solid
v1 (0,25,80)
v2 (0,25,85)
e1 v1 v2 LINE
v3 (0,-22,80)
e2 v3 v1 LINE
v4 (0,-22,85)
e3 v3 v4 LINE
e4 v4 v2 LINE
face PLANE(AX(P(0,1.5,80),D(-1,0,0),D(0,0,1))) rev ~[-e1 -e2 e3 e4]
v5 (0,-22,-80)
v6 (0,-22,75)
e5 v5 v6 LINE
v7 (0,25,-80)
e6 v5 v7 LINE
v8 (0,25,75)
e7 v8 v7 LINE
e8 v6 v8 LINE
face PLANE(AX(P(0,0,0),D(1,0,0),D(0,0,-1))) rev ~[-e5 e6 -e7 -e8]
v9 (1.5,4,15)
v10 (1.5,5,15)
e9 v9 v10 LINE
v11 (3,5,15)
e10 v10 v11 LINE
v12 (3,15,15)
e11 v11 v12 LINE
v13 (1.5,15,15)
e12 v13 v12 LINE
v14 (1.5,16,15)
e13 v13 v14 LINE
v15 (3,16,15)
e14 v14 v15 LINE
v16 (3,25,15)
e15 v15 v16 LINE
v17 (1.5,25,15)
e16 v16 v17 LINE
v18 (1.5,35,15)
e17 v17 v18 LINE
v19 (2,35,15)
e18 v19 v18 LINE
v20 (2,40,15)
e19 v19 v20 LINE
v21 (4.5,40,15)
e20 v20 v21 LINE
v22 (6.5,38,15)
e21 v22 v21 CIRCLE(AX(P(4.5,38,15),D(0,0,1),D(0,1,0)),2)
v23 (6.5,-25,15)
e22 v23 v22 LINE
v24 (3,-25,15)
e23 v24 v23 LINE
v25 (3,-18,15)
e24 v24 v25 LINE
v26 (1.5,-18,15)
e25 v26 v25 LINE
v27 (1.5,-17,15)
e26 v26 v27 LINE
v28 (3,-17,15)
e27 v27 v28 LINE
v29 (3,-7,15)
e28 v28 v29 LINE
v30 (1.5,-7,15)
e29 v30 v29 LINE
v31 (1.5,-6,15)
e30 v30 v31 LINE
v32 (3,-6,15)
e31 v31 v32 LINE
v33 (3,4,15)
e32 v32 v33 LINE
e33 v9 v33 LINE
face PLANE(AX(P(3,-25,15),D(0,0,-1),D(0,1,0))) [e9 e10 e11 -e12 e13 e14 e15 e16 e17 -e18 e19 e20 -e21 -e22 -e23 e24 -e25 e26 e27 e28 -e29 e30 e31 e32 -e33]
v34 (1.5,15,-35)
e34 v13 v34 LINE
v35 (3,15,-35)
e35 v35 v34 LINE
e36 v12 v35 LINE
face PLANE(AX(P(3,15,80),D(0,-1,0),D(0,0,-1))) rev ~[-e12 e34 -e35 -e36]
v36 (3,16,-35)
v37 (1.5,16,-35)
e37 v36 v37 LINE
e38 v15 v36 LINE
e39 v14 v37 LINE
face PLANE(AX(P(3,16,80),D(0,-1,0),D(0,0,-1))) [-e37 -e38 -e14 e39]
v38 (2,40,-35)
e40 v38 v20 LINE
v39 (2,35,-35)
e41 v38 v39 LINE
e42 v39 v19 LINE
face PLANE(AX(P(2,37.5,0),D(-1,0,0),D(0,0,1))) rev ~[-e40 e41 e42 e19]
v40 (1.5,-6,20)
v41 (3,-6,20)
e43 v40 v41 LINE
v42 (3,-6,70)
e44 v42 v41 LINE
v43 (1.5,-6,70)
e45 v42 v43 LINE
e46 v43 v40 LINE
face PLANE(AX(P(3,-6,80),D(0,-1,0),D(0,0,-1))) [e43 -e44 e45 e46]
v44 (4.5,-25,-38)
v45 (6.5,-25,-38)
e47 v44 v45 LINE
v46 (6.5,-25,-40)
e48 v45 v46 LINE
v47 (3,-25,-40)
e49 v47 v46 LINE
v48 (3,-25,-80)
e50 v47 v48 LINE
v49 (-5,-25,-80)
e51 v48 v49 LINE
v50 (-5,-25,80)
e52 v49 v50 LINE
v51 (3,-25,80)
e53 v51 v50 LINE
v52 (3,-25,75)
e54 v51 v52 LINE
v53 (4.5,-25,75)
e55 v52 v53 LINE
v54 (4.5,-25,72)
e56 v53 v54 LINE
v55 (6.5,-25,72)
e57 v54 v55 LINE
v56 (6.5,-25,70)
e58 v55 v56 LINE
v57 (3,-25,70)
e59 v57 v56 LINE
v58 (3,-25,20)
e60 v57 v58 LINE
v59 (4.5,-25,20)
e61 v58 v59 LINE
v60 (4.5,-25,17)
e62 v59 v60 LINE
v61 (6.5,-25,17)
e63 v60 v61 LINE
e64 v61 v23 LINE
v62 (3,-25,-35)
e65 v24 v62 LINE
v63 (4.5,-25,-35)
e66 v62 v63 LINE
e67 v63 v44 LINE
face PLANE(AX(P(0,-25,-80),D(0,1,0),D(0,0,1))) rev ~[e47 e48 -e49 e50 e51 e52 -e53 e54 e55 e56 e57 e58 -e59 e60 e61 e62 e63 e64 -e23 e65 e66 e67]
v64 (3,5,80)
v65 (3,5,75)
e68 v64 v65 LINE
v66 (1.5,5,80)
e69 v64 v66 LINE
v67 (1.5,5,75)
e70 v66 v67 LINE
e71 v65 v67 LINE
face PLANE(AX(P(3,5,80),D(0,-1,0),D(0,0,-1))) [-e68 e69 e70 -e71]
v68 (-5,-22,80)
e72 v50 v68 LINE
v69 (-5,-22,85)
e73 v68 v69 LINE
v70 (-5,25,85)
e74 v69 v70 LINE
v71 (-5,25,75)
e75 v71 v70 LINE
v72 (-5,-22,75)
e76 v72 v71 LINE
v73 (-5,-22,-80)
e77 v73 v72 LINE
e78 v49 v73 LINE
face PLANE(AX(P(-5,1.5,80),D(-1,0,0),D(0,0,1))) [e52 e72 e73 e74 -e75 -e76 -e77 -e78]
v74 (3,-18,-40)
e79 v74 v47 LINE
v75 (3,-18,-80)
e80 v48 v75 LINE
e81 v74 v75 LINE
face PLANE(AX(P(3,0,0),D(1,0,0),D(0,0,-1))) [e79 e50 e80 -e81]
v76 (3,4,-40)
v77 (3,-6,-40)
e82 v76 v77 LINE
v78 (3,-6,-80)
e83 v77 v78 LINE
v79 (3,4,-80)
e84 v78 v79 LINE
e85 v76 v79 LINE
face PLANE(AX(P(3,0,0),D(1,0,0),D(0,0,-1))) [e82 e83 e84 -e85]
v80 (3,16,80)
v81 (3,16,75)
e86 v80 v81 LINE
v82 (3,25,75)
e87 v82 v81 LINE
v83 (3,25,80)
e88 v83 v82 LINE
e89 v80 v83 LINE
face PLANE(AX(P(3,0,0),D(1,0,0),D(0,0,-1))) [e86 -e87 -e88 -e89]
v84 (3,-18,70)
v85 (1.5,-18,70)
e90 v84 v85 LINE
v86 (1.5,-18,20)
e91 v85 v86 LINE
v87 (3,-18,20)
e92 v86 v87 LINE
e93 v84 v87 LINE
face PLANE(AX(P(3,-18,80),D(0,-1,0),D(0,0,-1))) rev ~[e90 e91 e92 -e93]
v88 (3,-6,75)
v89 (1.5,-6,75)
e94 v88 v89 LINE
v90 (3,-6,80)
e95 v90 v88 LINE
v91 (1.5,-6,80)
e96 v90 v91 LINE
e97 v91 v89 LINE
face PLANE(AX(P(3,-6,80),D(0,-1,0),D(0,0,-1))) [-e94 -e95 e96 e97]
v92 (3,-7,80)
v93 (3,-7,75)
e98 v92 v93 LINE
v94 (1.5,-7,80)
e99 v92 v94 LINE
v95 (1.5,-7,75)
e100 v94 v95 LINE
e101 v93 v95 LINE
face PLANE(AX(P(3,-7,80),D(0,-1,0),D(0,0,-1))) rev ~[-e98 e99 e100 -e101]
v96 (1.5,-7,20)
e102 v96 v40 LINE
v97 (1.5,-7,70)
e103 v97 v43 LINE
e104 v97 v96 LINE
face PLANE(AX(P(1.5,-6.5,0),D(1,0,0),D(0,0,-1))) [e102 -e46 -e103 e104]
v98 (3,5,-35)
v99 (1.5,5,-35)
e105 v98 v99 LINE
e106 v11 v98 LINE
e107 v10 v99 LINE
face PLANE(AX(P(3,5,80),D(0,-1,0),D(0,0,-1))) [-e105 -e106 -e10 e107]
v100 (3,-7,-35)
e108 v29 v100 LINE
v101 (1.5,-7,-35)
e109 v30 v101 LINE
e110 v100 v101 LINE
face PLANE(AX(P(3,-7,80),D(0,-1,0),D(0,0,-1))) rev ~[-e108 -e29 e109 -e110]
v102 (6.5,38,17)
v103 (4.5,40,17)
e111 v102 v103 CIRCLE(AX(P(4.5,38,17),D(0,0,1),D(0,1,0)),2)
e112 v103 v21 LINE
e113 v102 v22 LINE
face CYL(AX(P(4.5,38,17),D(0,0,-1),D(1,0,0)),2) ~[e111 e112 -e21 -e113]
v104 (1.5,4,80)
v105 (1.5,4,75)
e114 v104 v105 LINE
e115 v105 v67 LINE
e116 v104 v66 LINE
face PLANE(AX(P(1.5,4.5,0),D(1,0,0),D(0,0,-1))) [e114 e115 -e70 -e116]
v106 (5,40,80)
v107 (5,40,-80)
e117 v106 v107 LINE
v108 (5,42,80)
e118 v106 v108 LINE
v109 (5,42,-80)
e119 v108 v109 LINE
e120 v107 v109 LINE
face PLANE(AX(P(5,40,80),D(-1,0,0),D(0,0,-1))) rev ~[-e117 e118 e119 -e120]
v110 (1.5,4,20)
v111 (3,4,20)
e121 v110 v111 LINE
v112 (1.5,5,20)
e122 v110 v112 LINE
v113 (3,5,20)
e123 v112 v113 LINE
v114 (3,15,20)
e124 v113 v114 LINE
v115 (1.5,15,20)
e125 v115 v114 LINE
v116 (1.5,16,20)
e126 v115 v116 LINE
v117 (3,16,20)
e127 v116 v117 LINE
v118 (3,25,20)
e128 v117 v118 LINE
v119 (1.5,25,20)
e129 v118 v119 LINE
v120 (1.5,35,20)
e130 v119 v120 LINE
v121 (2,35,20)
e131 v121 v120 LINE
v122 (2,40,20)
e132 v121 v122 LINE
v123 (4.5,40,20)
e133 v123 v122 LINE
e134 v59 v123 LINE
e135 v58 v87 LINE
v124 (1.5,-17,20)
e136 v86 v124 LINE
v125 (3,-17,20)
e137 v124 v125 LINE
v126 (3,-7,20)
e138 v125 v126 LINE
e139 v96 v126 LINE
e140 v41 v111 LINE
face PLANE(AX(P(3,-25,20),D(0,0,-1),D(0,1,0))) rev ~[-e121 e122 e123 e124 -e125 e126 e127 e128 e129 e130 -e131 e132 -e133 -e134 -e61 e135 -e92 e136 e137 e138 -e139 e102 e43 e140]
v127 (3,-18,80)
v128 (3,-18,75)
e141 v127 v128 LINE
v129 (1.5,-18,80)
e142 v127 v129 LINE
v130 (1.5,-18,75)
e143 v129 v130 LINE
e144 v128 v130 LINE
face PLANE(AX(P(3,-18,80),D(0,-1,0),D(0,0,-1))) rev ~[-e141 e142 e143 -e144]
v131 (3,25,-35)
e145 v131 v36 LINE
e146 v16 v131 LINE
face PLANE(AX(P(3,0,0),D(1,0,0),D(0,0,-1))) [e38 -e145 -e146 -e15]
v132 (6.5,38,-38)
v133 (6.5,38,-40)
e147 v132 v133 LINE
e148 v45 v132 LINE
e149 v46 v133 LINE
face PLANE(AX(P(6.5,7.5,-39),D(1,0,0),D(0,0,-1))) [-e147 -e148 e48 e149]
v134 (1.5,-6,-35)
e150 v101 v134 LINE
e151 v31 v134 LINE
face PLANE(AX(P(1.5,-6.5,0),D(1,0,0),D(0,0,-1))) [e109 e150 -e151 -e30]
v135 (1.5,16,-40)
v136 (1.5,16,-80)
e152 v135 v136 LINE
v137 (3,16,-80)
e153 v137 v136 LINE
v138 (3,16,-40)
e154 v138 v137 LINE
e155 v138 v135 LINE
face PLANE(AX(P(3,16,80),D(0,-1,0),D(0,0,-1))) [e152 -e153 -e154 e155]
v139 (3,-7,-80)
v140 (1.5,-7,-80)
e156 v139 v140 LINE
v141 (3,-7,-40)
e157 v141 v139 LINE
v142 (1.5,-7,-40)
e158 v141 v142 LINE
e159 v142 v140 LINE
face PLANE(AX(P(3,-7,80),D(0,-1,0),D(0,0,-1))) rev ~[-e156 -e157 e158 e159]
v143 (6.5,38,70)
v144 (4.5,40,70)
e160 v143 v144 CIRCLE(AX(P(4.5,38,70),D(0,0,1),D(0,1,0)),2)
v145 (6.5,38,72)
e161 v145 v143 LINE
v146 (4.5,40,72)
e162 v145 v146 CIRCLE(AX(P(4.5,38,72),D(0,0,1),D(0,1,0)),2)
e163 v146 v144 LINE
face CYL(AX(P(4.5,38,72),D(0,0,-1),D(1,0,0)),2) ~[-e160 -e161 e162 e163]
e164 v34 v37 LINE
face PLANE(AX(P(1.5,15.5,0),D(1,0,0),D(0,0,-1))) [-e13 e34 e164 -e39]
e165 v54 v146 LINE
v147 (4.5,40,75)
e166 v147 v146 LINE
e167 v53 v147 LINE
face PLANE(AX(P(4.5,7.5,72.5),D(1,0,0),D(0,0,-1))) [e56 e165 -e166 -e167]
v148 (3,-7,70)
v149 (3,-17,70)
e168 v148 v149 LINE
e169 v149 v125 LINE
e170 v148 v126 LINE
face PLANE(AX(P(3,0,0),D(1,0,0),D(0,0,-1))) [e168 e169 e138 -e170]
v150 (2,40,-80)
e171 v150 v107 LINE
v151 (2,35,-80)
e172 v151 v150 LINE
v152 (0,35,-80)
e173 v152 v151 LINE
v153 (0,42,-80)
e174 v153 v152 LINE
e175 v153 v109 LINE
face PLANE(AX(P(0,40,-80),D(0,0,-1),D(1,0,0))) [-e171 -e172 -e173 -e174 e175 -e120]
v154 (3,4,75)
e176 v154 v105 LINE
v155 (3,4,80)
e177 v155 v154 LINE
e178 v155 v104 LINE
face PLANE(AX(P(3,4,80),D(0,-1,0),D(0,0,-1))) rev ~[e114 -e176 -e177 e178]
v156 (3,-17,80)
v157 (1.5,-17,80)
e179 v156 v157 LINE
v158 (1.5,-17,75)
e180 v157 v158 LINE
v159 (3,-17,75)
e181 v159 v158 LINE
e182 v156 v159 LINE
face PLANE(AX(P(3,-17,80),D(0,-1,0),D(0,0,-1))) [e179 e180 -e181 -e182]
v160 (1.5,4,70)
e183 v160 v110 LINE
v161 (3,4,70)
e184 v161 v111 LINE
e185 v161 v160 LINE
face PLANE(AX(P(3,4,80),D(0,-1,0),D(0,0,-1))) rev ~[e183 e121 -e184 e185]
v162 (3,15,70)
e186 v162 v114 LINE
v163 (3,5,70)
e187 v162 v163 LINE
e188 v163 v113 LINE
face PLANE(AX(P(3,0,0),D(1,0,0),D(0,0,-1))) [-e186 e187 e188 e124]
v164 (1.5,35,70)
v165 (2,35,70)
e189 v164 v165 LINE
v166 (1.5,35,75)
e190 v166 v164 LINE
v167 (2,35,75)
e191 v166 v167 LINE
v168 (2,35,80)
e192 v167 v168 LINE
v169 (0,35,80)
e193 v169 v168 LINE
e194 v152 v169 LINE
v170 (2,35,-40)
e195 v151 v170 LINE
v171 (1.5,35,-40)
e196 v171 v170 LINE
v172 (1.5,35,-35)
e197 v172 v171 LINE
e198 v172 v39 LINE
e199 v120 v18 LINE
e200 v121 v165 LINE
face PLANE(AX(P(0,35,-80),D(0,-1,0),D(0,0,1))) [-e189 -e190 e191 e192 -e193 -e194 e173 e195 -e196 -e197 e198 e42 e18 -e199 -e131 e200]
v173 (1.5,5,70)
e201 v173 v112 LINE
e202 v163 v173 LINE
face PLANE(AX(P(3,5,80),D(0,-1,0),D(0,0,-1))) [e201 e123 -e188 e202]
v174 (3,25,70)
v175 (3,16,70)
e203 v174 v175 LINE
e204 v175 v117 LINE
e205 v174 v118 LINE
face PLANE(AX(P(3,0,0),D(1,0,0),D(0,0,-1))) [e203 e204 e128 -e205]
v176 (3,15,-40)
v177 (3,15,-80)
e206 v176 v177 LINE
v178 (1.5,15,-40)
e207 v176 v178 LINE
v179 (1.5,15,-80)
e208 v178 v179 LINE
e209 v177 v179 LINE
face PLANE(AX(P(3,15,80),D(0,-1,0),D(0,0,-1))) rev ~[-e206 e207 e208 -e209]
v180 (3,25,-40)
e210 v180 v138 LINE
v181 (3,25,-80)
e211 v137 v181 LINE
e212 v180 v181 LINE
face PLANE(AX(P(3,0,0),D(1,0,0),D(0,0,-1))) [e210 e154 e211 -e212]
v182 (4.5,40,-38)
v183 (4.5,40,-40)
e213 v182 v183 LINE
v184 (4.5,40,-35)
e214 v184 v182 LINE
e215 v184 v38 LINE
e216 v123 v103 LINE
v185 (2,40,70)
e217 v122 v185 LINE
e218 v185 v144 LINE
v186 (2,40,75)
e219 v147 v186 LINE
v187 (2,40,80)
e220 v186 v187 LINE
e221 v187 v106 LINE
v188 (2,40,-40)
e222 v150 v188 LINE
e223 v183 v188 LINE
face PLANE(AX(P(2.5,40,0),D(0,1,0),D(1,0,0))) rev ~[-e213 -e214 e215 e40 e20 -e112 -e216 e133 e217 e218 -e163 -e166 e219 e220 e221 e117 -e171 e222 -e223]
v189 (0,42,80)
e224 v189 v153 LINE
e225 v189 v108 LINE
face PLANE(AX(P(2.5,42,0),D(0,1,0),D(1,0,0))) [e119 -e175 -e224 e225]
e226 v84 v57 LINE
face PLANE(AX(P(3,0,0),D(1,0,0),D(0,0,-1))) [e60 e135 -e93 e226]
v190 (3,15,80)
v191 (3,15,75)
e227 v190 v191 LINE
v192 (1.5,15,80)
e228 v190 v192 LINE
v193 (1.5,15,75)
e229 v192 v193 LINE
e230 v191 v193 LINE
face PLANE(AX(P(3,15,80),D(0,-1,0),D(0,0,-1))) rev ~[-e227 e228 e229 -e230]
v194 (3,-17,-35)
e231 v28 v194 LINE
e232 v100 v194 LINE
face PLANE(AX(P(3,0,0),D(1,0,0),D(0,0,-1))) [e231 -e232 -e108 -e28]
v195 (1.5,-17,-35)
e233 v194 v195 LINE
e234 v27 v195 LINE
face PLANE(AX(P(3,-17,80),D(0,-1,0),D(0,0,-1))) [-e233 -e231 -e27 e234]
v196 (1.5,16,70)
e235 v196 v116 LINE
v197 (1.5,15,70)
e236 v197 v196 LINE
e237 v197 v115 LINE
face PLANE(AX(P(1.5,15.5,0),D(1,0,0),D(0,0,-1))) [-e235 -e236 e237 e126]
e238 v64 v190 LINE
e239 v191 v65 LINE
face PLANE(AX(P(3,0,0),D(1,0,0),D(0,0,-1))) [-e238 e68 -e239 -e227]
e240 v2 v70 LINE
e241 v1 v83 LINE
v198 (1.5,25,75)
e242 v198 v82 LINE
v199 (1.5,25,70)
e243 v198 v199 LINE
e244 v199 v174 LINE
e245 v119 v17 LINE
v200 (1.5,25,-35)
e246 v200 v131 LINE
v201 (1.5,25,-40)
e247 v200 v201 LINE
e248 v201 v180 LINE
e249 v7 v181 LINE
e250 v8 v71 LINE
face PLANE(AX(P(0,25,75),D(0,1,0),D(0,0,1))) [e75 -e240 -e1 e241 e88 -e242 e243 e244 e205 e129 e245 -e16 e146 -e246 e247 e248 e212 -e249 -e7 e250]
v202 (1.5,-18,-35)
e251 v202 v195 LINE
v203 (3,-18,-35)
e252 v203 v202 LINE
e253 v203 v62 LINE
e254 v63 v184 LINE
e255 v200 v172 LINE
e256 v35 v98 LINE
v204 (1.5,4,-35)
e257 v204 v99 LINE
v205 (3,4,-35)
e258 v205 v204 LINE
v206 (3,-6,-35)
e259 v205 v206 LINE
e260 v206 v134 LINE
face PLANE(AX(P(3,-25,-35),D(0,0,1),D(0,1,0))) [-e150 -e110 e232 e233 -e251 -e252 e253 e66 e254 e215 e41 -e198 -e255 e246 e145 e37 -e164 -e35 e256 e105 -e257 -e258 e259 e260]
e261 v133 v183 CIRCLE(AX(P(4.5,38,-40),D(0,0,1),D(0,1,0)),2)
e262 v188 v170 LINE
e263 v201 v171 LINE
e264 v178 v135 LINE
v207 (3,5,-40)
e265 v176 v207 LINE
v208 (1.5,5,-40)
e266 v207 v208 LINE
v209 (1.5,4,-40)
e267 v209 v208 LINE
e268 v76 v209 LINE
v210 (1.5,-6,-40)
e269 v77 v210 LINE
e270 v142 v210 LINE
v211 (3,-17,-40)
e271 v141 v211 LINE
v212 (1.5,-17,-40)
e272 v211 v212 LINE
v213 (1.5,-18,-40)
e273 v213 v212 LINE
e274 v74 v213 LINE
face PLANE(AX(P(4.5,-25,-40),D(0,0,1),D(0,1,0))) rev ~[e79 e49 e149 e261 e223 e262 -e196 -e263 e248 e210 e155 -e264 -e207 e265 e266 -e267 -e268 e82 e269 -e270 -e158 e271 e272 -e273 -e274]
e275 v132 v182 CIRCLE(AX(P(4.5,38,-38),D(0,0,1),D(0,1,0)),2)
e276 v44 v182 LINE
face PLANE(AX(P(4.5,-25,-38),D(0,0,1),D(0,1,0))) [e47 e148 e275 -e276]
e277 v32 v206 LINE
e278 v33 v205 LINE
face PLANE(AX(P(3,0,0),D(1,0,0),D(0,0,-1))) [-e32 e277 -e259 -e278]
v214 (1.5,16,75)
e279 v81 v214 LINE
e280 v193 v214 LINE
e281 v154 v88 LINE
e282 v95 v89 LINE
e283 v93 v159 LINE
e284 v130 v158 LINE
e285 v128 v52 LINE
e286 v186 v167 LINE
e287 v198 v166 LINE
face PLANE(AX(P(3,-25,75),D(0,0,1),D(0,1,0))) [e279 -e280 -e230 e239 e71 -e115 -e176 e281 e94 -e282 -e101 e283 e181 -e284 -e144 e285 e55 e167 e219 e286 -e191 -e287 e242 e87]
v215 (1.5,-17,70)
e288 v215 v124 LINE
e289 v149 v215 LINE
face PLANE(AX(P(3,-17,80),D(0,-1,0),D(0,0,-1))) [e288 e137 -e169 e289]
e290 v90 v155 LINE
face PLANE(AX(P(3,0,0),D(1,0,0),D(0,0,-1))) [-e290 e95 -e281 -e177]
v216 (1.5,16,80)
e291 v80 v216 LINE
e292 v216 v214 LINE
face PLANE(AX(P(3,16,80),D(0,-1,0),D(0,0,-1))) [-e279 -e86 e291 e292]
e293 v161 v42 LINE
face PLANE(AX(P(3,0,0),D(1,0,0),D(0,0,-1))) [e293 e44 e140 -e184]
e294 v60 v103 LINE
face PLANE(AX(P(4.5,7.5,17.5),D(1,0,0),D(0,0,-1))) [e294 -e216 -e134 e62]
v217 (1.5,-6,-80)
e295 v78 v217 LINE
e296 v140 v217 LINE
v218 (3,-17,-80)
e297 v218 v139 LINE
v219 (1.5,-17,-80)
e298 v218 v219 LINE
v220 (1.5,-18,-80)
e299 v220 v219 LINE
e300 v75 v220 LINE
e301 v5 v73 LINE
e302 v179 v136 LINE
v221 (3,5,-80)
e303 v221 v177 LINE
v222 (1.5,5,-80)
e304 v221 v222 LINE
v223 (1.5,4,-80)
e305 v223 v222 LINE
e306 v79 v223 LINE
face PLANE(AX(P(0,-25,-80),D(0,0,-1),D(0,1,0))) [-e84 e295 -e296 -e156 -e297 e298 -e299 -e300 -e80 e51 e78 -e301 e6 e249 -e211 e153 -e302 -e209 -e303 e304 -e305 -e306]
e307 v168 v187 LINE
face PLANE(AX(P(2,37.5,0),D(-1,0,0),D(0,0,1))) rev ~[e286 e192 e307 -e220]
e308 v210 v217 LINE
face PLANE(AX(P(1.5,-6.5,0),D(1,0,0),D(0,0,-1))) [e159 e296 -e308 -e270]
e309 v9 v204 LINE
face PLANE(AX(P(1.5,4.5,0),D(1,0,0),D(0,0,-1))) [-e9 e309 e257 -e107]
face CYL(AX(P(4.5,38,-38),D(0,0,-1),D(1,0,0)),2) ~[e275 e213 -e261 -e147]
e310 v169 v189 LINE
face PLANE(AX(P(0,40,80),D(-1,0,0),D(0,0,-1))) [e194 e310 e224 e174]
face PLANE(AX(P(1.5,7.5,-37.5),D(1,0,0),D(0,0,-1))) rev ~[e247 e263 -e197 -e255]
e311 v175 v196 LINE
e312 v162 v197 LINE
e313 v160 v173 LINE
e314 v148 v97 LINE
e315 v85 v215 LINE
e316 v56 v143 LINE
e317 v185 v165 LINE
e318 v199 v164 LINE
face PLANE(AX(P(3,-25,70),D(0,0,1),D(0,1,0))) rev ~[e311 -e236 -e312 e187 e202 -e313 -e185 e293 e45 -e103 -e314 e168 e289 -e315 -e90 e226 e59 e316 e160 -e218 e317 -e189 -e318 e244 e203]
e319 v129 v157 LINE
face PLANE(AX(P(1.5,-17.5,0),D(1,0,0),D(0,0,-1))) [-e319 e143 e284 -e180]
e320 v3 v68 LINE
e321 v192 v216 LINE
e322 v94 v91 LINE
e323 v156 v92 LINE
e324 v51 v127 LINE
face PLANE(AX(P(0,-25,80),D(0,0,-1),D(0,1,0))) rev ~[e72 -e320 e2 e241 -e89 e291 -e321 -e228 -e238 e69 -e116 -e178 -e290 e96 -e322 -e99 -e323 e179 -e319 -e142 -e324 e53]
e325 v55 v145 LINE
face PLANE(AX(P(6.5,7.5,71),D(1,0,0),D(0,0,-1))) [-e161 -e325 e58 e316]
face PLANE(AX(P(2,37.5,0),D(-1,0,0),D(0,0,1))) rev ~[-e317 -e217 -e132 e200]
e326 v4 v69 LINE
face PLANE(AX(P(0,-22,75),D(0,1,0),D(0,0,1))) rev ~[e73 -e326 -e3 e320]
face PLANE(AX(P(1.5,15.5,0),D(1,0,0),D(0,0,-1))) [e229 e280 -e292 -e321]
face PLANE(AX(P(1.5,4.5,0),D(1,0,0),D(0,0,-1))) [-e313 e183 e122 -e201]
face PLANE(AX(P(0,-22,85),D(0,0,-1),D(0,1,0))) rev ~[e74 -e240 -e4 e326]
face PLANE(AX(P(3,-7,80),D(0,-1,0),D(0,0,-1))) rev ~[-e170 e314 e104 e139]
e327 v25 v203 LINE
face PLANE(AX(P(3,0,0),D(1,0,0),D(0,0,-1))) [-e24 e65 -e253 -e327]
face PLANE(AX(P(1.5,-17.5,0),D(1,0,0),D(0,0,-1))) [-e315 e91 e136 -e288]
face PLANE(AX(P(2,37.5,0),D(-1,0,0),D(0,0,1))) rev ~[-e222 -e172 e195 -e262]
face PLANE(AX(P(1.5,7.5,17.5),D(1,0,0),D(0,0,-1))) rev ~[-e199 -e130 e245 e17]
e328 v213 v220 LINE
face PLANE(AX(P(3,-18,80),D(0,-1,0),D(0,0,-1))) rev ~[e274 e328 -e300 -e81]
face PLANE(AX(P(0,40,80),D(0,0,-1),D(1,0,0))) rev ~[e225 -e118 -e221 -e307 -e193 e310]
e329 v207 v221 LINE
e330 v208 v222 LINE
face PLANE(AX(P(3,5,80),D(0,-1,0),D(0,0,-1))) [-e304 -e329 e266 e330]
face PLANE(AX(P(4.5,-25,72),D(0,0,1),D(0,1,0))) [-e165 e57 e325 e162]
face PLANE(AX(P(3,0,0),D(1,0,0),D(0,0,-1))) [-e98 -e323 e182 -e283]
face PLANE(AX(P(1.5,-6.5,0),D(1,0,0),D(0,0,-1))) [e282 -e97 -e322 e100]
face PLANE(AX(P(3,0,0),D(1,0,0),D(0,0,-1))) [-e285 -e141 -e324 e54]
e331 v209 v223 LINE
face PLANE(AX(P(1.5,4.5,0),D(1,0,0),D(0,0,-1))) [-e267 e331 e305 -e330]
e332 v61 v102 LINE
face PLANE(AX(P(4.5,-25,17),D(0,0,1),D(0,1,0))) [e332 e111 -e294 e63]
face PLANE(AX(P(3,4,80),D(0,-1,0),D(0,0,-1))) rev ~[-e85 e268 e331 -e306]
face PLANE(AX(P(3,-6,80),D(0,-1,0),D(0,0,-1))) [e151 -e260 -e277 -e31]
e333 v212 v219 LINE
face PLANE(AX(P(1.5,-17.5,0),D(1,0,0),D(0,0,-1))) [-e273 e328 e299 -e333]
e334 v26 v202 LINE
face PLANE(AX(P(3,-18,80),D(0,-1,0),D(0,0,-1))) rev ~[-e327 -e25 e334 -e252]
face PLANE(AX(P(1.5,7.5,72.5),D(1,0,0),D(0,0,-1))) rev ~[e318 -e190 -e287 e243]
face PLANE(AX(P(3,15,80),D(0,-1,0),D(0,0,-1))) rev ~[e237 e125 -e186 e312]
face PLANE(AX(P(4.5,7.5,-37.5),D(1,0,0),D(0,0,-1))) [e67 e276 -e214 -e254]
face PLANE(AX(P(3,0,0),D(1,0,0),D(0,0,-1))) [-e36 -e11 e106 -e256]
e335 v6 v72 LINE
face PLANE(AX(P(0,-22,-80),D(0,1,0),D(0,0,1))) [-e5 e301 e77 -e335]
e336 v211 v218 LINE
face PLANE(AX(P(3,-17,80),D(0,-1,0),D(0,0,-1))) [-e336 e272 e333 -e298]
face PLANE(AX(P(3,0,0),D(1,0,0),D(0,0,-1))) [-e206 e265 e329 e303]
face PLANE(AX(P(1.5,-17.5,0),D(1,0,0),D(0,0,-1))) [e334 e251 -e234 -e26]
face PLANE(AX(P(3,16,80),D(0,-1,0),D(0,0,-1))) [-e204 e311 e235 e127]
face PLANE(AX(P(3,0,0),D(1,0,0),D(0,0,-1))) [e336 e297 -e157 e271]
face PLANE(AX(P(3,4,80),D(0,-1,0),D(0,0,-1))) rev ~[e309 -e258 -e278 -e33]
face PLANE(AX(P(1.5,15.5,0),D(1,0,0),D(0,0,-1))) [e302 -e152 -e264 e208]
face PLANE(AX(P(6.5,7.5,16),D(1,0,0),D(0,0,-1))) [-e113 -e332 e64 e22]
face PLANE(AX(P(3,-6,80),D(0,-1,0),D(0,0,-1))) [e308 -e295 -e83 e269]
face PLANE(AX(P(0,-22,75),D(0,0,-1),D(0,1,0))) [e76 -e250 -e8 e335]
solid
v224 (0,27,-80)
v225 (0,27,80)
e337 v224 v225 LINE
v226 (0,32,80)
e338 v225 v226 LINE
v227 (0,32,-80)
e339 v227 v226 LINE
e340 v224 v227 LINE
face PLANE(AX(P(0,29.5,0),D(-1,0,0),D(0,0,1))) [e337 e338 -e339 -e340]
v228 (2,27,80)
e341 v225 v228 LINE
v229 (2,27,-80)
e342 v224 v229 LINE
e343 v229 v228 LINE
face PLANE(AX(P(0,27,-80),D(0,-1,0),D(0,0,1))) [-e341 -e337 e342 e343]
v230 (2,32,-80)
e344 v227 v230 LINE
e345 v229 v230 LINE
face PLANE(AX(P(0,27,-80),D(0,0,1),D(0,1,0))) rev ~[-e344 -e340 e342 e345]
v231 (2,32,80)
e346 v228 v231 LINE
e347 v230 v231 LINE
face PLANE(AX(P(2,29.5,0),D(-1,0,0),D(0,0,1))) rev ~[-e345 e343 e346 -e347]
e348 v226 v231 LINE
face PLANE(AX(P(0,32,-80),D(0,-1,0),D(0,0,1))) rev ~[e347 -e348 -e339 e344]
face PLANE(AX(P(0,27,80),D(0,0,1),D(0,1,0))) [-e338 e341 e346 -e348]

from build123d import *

# Parameters (mm, degrees)
SKETCH1_W             = 160
SKETCH1_H             = 50
BOSS_EXTRUDE1_DEPTH   = 3
SKETCH2_W             = 160
SKETCH2_H             = 1
CUT_EXTRUDE1_DEPTH    = 1.5
SKETCH3_W             = 5
SKETCH3_H             = 65
BOSS_EXTRUDE2_DEPTH   = 1.5
SKETCH4_W             = 2
SKETCH4_H             = 65
BOSS_EXTRUDE3_DEPTH   = 2
FILLET1_R             = 2
SKETCH5_W             = 160
SKETCH5_H             = 5
BOSS_EXTRUDE4_DEPTH   = 2
BOSS_EXTRUDE4_2_DEPTH = 2
SKETCH7_W             = 160
SKETCH7_H             = 3
BOSS_EXTRUDE5_DEPTH   = 5
SKETCH8_W             = 5
SKETCH8_H             = 160
BOSS_EXTRUDE6_DEPTH   = 2
SKETCH11_W            = 10
SKETCH11_H            = 47
BOSS_EXTRUDE7_DEPTH   = 5


with BuildPart() as part:
    # Sketch1 → Boss-Extrude1 (new body)
    with BuildSketch(Plane(origin=(0, 0, 0), x_dir=(0, 0, -1), z_dir=(1, 0, 0))):
        Rectangle(SKETCH1_W, SKETCH1_H)
    extrude(amount=BOSS_EXTRUDE1_DEPTH)

    # Sketch2 → Cut-Extrude1 (cut)
    with BuildSketch(Plane(origin=(3, 0, 0), x_dir=(0, 0, -1), z_dir=(1, 0, 0))):
        with Locations((0, -17.5)):
            Rectangle(SKETCH2_W, SKETCH2_H)
        with Locations((0, -6.5)):
            Rectangle(SKETCH2_W, SKETCH2_H)
        with Locations((0, 4.5)):
            Rectangle(SKETCH2_W, SKETCH2_H)
        with Locations((0, 15.5)):
            Rectangle(SKETCH2_W, SKETCH2_H)
    extrude(amount=-CUT_EXTRUDE1_DEPTH, mode=Mode.SUBTRACT)

    # Sketch3 → Boss-Extrude2 (add, symmetric)
    with BuildSketch(Plane(origin=(3, 0, 0), x_dir=(0, 0, -1), z_dir=(1, 0, 0))):
        with Locations((-72.5, 7.5)):
            Rectangle(SKETCH3_W, SKETCH3_H)
        with Locations((37.5, 7.5)):
            Rectangle(SKETCH3_W, SKETCH3_H)
        with Locations((-17.5, 7.5)):
            Rectangle(SKETCH3_W, SKETCH3_H)
    extrude(amount=BOSS_EXTRUDE2_DEPTH, both=True)

    # Sketch4 → Boss-Extrude3 (add)
    with BuildSketch(Plane(origin=(4.5, 0, 0), x_dir=(0, 0, -1), z_dir=(1, 0, 0))):
        with Locations((39, 7.5)):
            Rectangle(SKETCH4_W, SKETCH4_H)
        with Locations((-16, 7.5)):
            Rectangle(SKETCH4_W, SKETCH4_H)
        with Locations((-71, 7.5)):
            Rectangle(SKETCH4_W, SKETCH4_H)
    extrude(amount=BOSS_EXTRUDE3_DEPTH)

    # Fillet1
    fillet1_edges = [part.edges().sort_by_distance(p)[0] for p in [
        (6.5, 40, 71),
        (6.5, 40, 16),
        (6.5, 40, -39),
    ]]
    fillet(fillet1_edges, radius=FILLET1_R)

    # Sketch7 → Boss-Extrude5 (add)
    with BuildSketch(Plane.ZY):
        with Locations((0, -23.5)):
            Rectangle(SKETCH7_W, SKETCH7_H)
    extrude(amount=BOSS_EXTRUDE5_DEPTH)



with BuildPart() as body_2:
    # Sketch5 → Boss-Extrude4 (new body)
    with BuildSketch(Plane.ZY):
        with Locations((0, 29.5)):
            Rectangle(SKETCH5_W, SKETCH5_H)
    extrude(amount=-BOSS_EXTRUDE4_DEPTH)


with BuildPart() as body_3:
    # Sketch5 → Boss-Extrude4 2 (new body)
    with BuildSketch(Plane.ZY):
        with Locations((0, 37.5)):
            Rectangle(SKETCH5_W, SKETCH5_H)
    extrude(amount=-BOSS_EXTRUDE4_2_DEPTH)


with BuildPart() as part_1:
    add(part.part)

    add(body_3.part)  # Boss-Extrude6 merges body 3
    # Sketch8 → Boss-Extrude6 (add)
    with BuildSketch(Plane(origin=(0, 40, 0), x_dir=(1, 0, 0), z_dir=(0, 1, 0))):
        with Locations((2.5, 0)):
            Rectangle(SKETCH8_W, SKETCH8_H)
    extrude(amount=BOSS_EXTRUDE6_DEPTH)

    # Sketch11 → Boss-Extrude7 (add)
    with BuildSketch(Plane.ZY):
        with Locations((80, 1.5)):
            Rectangle(SKETCH11_W, SKETCH11_H)
    extrude(amount=BOSS_EXTRUDE7_DEPTH)


solid = Compound([body_2.part, part_1.part])
